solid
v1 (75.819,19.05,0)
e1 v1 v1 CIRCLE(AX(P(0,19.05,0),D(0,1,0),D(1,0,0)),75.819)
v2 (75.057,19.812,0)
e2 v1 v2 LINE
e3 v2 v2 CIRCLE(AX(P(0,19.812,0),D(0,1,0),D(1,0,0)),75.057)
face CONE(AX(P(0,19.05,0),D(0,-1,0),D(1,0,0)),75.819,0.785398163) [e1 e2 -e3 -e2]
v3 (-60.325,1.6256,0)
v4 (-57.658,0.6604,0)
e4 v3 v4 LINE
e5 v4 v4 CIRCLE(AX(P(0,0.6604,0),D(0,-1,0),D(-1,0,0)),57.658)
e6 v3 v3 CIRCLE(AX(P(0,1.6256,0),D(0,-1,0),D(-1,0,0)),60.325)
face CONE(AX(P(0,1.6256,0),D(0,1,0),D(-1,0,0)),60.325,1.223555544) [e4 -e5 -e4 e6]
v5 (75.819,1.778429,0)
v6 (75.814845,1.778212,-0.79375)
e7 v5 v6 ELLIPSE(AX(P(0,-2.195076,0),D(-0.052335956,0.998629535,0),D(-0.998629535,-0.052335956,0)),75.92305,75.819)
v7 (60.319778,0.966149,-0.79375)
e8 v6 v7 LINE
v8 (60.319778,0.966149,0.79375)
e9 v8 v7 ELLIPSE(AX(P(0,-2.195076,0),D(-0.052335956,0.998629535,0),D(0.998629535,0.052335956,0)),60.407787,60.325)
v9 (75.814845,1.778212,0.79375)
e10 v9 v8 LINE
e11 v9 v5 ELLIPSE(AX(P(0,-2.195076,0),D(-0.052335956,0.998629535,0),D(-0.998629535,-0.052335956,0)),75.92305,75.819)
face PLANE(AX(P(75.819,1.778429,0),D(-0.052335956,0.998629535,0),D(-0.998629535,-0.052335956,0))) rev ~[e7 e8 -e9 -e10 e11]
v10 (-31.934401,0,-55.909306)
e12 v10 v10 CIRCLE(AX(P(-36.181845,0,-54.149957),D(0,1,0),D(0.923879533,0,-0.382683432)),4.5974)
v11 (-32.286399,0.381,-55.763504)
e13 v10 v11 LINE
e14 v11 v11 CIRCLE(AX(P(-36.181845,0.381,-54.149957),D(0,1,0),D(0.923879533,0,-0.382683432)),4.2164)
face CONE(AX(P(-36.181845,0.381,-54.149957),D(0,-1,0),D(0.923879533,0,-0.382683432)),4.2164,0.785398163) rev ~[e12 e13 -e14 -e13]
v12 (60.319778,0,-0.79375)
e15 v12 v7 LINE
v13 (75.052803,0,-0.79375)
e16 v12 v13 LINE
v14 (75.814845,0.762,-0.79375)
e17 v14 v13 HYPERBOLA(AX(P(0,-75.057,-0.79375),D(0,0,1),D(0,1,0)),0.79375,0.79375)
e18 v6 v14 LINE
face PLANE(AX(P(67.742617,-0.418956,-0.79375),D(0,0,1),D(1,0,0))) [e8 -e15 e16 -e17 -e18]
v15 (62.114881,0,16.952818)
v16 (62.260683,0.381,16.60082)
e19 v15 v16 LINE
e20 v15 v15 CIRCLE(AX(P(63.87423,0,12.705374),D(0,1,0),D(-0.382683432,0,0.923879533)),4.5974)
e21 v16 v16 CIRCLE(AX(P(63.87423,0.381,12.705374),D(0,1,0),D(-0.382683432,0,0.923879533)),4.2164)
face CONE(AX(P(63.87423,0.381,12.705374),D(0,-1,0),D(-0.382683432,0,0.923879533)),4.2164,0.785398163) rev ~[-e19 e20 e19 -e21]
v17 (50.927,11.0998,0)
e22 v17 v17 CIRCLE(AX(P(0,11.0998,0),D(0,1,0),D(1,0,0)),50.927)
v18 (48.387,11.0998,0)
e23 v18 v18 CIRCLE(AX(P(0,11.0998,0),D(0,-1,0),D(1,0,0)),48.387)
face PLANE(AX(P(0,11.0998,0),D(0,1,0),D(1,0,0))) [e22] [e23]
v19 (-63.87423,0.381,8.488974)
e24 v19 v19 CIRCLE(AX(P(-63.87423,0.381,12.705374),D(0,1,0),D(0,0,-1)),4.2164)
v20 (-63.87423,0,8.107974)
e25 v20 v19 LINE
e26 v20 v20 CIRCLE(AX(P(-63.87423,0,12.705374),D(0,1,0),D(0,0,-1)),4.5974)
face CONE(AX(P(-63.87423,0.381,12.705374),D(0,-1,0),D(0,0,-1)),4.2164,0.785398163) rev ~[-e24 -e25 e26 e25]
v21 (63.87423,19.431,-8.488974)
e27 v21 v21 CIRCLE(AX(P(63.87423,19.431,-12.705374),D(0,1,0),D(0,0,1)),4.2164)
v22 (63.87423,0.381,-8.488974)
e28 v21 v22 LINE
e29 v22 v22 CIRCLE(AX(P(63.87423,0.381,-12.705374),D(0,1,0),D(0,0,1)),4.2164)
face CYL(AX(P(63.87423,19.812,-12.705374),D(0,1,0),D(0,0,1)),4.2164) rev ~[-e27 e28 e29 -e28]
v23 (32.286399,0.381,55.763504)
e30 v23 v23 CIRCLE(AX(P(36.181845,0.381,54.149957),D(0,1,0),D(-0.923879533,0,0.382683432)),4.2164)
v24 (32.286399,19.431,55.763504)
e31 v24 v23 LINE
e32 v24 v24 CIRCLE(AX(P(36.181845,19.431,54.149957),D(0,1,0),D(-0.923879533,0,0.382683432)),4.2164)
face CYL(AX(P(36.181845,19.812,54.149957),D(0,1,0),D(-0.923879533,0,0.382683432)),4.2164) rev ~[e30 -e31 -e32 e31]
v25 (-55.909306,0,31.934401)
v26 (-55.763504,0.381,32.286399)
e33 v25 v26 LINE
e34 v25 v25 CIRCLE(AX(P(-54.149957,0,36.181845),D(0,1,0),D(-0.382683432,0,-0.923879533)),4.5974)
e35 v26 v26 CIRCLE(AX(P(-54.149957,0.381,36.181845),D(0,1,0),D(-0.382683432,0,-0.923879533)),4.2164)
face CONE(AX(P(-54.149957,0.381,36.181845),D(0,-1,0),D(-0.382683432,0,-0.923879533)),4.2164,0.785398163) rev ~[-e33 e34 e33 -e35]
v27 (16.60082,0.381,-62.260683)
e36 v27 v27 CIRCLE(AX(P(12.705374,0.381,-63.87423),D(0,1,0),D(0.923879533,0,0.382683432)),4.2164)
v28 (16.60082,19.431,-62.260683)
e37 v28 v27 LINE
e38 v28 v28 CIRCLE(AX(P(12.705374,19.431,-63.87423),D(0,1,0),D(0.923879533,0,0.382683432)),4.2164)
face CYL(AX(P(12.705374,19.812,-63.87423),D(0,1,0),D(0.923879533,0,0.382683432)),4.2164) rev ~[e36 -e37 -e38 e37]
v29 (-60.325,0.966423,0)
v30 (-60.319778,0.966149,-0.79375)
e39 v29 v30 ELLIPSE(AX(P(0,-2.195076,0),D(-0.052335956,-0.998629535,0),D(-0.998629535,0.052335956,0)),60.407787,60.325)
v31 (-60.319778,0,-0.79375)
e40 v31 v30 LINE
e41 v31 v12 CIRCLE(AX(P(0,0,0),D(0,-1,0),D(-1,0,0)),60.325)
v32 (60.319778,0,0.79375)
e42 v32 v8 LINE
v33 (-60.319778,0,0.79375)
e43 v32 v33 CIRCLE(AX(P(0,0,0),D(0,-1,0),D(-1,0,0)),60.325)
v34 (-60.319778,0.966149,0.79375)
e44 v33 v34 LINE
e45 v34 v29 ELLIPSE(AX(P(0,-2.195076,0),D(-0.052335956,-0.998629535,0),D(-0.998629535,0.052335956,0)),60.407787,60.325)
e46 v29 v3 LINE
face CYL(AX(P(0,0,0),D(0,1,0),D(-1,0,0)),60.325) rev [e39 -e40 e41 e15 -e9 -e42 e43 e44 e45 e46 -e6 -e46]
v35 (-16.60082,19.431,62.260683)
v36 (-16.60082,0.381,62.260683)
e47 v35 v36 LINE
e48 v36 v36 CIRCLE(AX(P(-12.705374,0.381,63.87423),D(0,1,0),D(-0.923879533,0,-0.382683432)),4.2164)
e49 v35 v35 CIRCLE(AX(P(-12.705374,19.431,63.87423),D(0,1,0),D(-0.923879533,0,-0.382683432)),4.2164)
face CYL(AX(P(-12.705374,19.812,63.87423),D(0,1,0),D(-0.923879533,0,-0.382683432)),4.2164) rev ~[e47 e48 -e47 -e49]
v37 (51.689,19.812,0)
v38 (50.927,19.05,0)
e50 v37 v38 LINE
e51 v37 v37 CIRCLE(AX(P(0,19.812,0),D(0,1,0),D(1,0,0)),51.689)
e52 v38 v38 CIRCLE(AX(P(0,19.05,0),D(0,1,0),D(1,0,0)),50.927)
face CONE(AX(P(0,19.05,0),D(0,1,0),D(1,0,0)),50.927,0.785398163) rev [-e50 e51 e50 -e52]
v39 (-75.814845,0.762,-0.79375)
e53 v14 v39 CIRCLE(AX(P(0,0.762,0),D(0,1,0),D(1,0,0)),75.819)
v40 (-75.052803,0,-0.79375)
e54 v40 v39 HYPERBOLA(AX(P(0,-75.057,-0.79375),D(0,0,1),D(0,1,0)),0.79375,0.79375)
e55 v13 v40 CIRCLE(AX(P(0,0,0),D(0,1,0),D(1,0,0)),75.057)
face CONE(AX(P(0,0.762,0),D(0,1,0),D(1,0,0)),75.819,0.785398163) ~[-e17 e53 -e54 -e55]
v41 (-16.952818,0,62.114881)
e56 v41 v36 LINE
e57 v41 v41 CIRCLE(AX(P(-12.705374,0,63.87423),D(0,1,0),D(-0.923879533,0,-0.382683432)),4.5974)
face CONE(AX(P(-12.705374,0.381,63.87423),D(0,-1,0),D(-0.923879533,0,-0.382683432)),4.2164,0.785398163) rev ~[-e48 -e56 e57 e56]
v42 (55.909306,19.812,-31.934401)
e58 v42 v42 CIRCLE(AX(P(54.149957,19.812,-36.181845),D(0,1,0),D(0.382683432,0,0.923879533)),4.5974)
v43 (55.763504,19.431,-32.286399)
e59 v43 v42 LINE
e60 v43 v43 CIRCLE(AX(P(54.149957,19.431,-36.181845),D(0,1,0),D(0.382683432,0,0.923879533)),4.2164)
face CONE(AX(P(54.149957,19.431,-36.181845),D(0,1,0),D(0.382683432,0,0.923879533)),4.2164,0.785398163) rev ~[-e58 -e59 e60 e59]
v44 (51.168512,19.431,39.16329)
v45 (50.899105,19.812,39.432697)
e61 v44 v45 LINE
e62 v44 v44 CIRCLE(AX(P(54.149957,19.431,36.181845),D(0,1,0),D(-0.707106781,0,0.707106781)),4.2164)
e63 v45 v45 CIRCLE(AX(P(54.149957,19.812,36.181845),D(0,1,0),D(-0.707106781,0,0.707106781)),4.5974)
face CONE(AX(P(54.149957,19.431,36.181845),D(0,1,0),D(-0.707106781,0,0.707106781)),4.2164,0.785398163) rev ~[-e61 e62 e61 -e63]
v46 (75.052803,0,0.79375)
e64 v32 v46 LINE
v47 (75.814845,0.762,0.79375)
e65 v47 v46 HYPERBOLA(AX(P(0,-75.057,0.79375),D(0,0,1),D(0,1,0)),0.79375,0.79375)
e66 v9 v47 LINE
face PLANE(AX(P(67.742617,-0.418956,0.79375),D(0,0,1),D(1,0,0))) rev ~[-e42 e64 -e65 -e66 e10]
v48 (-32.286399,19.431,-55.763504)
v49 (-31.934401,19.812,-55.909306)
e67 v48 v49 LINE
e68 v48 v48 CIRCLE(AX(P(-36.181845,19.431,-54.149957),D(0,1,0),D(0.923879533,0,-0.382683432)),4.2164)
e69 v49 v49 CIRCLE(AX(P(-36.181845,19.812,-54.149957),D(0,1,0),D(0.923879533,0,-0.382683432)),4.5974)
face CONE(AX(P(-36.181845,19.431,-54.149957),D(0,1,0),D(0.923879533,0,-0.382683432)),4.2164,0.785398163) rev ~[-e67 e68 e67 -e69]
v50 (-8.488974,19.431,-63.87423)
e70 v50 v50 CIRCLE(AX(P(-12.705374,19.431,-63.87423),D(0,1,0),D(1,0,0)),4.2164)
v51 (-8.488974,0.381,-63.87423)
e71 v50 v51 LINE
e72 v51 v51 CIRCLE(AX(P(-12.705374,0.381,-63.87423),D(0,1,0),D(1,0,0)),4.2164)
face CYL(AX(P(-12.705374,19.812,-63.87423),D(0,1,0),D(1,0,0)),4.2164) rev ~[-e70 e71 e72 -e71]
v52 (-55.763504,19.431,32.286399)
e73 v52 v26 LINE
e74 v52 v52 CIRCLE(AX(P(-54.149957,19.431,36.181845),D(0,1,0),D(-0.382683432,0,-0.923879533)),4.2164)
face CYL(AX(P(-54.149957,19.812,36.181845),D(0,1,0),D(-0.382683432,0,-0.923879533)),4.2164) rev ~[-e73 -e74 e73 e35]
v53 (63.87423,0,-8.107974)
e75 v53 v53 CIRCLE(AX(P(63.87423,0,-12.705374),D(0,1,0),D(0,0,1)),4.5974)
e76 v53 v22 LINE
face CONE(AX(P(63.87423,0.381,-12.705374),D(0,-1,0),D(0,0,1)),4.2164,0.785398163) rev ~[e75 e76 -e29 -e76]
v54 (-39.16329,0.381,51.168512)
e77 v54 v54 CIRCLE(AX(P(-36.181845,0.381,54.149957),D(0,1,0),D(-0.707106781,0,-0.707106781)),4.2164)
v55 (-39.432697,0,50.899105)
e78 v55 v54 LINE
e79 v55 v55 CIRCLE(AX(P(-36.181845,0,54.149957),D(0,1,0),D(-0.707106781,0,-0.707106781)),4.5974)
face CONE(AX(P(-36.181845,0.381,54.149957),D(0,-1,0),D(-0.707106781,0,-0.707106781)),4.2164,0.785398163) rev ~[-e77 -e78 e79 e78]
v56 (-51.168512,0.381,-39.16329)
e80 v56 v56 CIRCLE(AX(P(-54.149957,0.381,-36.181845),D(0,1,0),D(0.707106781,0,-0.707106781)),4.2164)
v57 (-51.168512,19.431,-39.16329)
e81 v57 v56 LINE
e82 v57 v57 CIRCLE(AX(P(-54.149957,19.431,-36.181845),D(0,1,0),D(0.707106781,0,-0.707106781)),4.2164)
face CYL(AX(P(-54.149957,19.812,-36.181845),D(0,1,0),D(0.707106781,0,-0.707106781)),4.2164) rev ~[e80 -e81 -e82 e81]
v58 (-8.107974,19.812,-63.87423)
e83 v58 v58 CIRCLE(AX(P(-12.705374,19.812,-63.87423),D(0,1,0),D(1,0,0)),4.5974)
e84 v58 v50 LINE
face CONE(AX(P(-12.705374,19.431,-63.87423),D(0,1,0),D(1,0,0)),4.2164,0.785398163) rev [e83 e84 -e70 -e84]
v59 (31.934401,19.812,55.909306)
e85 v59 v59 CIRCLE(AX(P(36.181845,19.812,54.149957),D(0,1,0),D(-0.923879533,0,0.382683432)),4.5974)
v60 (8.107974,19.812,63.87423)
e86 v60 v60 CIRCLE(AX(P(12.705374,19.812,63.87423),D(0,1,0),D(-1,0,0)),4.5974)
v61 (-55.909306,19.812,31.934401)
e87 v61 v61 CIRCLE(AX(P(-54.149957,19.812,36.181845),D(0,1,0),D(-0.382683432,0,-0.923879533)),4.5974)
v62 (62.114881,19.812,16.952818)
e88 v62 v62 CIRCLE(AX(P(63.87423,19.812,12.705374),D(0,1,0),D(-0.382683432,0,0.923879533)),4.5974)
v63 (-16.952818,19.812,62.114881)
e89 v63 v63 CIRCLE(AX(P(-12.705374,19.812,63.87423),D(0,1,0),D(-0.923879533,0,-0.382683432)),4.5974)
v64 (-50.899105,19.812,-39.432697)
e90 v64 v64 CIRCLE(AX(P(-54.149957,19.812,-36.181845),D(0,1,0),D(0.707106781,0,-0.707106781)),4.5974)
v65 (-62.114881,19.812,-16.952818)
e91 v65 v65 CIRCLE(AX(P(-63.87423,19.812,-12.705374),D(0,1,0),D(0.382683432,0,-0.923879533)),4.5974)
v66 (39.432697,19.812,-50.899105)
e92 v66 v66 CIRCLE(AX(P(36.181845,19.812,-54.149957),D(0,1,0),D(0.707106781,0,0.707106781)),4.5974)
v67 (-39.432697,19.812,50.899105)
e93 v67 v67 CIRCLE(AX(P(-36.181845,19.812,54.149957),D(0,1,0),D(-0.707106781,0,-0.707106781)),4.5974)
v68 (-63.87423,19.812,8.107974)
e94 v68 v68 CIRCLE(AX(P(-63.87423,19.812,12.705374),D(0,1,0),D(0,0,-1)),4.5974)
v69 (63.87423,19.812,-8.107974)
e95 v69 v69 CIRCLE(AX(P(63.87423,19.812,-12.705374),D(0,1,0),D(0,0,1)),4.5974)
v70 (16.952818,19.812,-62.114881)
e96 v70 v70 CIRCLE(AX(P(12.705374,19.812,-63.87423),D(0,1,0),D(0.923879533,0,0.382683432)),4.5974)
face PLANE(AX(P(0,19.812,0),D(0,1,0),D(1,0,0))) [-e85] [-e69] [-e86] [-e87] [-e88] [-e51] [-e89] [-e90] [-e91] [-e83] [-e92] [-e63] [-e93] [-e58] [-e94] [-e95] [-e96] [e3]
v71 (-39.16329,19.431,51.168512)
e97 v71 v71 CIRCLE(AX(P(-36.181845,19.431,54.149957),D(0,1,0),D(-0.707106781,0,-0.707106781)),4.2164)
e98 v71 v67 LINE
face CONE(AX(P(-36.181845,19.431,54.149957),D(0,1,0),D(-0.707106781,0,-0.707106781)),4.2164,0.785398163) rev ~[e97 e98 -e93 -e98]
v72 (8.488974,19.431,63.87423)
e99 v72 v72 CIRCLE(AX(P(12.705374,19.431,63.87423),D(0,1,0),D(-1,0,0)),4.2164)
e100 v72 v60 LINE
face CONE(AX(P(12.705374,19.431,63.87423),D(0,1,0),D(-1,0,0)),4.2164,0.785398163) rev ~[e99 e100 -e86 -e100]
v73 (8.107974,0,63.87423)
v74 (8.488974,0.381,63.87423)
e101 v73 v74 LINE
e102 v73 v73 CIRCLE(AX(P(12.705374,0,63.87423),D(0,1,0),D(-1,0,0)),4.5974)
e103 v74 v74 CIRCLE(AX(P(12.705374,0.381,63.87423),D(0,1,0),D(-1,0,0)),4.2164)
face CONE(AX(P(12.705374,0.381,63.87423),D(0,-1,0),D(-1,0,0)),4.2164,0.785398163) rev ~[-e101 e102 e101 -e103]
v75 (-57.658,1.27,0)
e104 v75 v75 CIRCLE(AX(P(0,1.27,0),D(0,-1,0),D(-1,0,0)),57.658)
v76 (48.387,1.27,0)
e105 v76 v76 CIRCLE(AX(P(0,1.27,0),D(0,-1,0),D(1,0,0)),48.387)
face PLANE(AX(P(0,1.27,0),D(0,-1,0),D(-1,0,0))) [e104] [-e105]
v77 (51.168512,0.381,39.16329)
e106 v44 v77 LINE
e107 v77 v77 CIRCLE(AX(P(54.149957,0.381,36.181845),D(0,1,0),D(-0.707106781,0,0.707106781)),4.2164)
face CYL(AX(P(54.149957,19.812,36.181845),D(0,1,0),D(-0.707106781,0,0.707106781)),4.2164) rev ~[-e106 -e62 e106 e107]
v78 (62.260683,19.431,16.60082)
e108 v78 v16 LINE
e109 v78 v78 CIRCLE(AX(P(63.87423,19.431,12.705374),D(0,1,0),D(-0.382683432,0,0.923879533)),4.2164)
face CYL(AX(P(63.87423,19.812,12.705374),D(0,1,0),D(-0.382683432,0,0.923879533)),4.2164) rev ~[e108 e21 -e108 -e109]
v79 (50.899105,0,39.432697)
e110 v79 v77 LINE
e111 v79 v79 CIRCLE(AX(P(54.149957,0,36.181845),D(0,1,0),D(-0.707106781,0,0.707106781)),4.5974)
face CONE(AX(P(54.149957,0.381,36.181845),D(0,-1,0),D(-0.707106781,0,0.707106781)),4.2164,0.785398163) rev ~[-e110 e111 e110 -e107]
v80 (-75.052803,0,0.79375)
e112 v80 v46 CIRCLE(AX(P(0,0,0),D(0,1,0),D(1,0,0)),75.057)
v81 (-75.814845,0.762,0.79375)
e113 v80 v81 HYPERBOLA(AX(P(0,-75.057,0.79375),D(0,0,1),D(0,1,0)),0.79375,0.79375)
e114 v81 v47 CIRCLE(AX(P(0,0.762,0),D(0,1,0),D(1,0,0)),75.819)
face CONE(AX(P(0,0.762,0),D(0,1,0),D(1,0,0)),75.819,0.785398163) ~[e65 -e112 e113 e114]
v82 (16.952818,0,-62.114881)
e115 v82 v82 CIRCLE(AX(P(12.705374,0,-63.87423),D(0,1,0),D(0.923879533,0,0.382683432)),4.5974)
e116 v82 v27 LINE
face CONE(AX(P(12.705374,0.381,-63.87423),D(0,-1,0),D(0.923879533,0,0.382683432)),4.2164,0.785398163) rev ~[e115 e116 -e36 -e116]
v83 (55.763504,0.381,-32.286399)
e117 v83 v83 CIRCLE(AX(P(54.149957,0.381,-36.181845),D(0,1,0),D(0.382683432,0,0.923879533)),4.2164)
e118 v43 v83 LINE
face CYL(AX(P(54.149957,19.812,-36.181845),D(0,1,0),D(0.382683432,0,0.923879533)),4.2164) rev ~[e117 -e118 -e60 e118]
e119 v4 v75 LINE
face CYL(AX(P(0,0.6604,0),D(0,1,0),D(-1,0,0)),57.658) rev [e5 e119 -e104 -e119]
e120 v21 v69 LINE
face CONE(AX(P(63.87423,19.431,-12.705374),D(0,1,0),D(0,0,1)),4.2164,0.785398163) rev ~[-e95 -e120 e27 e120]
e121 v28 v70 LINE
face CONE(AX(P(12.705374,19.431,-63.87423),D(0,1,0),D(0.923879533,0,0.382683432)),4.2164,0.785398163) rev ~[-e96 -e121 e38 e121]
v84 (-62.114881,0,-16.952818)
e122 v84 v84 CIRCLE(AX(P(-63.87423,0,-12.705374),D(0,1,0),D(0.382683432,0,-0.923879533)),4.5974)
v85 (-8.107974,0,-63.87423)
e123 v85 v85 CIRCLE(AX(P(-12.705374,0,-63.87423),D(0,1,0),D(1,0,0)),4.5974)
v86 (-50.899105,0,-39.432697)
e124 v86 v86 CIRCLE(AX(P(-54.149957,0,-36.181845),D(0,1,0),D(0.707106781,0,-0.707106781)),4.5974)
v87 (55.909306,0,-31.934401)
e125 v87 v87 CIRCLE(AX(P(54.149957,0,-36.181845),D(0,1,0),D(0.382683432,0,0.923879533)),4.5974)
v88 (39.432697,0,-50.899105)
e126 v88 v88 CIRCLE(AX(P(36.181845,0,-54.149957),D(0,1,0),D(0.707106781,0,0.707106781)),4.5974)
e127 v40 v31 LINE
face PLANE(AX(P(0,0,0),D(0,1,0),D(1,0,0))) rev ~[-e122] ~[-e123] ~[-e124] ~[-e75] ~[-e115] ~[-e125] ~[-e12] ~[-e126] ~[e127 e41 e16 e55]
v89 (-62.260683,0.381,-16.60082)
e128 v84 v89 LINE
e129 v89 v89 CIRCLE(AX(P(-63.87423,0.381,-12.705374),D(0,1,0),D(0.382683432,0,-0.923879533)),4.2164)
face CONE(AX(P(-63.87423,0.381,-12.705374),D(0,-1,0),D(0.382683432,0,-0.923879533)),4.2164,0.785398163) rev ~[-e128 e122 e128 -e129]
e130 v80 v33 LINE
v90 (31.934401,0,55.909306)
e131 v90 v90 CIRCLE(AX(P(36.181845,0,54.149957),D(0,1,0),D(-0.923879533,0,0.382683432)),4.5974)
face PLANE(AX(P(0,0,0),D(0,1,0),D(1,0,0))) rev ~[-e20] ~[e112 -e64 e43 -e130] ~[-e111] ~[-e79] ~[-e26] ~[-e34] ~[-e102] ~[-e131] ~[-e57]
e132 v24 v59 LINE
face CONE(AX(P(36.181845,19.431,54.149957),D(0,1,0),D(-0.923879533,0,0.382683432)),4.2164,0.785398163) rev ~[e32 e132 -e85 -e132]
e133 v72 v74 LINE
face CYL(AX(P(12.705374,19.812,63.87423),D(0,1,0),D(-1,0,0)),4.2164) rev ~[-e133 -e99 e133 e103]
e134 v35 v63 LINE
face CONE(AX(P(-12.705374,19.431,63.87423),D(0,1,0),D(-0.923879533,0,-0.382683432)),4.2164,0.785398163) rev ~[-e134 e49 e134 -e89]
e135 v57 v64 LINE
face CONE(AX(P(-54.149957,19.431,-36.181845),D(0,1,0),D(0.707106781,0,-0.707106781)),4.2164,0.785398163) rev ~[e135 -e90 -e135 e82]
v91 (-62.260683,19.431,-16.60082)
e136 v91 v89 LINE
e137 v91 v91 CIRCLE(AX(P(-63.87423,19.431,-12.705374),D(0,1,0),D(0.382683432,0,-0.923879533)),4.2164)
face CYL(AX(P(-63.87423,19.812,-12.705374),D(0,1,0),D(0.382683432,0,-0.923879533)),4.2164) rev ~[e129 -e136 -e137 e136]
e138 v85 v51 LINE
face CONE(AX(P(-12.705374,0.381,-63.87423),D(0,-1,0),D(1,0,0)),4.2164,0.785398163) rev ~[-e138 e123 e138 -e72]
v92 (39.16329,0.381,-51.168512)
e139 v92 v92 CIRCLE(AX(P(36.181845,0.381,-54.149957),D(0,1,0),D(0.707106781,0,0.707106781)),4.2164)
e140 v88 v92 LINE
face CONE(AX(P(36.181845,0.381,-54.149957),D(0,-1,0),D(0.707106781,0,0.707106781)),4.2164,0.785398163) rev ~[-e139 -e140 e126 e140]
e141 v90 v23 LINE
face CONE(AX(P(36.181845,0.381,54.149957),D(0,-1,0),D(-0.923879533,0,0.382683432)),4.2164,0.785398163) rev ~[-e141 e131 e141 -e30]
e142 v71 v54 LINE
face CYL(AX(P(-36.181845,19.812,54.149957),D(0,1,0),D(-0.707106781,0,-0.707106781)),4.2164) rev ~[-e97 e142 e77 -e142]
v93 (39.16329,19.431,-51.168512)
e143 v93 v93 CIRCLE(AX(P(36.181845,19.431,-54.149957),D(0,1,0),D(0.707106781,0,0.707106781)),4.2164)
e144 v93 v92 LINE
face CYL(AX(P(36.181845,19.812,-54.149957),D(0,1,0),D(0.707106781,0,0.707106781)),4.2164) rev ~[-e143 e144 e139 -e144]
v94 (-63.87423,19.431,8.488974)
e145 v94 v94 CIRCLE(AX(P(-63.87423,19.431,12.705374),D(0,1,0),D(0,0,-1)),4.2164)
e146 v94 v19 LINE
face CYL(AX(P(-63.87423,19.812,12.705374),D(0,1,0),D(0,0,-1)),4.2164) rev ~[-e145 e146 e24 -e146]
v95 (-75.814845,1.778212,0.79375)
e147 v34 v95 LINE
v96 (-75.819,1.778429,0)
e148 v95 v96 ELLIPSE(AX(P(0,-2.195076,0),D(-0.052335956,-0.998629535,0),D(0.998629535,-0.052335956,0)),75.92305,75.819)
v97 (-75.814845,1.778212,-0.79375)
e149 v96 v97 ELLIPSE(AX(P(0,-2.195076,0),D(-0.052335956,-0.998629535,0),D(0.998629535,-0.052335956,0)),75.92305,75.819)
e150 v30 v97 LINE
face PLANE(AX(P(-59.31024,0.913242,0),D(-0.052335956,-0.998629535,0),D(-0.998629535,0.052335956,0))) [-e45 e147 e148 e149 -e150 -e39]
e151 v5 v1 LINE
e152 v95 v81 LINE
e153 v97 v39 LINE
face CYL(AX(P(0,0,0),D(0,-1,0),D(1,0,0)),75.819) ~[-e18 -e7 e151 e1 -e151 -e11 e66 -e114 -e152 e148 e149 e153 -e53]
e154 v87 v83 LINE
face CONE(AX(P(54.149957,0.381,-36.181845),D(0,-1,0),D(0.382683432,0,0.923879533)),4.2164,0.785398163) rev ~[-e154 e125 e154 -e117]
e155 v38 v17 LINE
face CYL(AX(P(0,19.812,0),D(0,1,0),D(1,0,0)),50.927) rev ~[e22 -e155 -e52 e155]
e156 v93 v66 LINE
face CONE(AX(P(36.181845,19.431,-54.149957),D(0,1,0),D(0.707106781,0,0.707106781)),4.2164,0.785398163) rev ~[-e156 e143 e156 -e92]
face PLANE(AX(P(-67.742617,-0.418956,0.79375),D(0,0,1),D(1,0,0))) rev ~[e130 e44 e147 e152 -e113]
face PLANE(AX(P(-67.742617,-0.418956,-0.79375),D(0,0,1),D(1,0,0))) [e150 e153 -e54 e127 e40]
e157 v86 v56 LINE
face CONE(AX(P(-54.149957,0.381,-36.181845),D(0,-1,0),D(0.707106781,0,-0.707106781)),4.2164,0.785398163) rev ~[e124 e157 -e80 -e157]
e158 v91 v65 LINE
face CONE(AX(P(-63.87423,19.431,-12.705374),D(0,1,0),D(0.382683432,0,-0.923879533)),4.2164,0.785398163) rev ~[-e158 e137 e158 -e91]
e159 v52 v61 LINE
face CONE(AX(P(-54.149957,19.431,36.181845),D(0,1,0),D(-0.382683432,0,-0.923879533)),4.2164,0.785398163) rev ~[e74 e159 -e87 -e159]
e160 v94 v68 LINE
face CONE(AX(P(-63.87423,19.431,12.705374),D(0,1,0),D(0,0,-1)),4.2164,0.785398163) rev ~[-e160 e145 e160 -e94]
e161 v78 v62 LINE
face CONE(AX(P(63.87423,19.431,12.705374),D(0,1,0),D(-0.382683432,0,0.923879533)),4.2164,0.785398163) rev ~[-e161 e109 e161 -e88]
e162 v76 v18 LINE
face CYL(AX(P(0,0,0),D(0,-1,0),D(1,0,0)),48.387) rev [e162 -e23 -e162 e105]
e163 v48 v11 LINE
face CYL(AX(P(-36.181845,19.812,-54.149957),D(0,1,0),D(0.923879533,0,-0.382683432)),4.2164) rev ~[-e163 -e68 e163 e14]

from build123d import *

# Parameters (mm, degrees)
SKETCH1_R                    = 75.819
SKETCH1_R_2                  = 48.387
BOSS_EXTRUDE1_DEPTH          = 19.812
SKETCH2_R                    = 50.927
CUT_EXTRUDE1_DEPTH           = 8.7122
CHAMFER1_SIZE                = 0.762
SKETCH4_R                    = 4.2164
CUT_EXTRUDE2_DEPTH           = 20.812
CHAMFER2_SIZE                = 0.381
CIRPATTERN1_COUNT            = 16
CHAMFER2_OF_CIRPATTERN1_SIZE = 0.381
CUT_EXTRUDE3_DEPTH           = 0.79375


with BuildPart() as part:
    # Sketch1 → Boss-Extrude1 (new body)
    with BuildSketch(Plane(origin=(0, 0, 0), x_dir=(1, 0, 0), z_dir=(0, 1, 0))):
        Circle(SKETCH1_R)
        Circle(SKETCH1_R_2, mode=Mode.SUBTRACT)
    extrude(amount=BOSS_EXTRUDE1_DEPTH)

    # Sketch2 → Cut-Extrude1 (cut)
    with BuildSketch(Plane(origin=(0, 19.812, 0), x_dir=(1, 0, 0), z_dir=(0, 1, 0))):
        Circle(SKETCH2_R)
    extrude(amount=-CUT_EXTRUDE1_DEPTH, mode=Mode.SUBTRACT)

    # Chamfer1
    chamfer1_edges = [part.edges().sort_by_distance(p)[0] for p in [
        (-50.927, 19.812, 0),
        (-75.819, 0, 0),
        (-75.819, 19.812, 0),
    ]]
    chamfer(chamfer1_edges, length=CHAMFER1_SIZE)

    # Sketch3 → Cut-Revolve1 (revolve, cut)
    with BuildSketch(Plane.XY):
        Polygon((-60.325, 0), (-60.325, 1.6256), (-57.658, 0.6604), (-57.658, 1.27), (0, 1.27), (0, 0), align=None)
    revolve(axis=Axis((0, 19.812, 0), (0, -1, 0)), mode=Mode.SUBTRACT)

    # Sketch4 → Cut-Extrude2 (cut, through all)
    with BuildSketch(Plane(origin=(0, 19.812, 0), x_dir=(1, 0, 0), z_dir=(0, 1, 0))):
        with Locations((-12.705374275, 63.874229857)):
            Circle(SKETCH4_R)
    cut_extrude2 = extrude(amount=-CUT_EXTRUDE2_DEPTH, mode=Mode.SUBTRACT)

    # Chamfer2
    chamfer2_edges = [part.edges().sort_by_distance(p)[0] for p in [
        (-16.921774275, 0, -63.874229857),
        (-16.921774275, 19.812, -63.874229857),
    ]]
    chamfer(chamfer2_edges, length=CHAMFER2_SIZE)

    # CirPattern1: Cut-Extrude2 ×16 about axis
    cirpattern1_axis = Axis((0, 0, 0), (0, 1, 0))
    for i in range(1, CIRPATTERN1_COUNT):
        add(cut_extrude2.rotate(cirpattern1_axis, i * 360 / CIRPATTERN1_COUNT), mode=Mode.SUBTRACT)

    # Chamfer2 of CirPattern1
    chamfer2_of_cirpattern1_edges = [part.edges().sort_by_distance(p)[0] for p in [
        (-40.077290428, 0, -52.536410959),
        (-40.077290428, 19.812, -52.536410959),
        (-57.131402415, 0, -33.200399735),
        (-57.131402415, 19.812, -33.200399735),
        (-65.487776282, 0, -8.809928615),
        (-65.487776282, 19.812, -8.809928615),
        (-63.874229857, 0, 16.921774275),
        (-63.874229857, 19.812, 16.921774275),
        (-52.536410959, 0, 40.077290428),
        (-52.536410959, 19.812, 40.077290428),
        (-33.200399735, 0, 57.131402415),
        (-33.200399735, 19.812, 57.131402415),
        (-8.809928615, 0, 65.487776282),
        (-8.809928615, 19.812, 65.487776282),
        (16.921774275, 0, 63.874229857),
        (16.921774275, 19.812, 63.874229857),
        (40.077290428, 0, 52.536410959),
        (40.077290428, 19.812, 52.536410959),
        (57.131402415, 0, 33.200399735),
        (57.131402415, 19.812, 33.200399735),
        (65.487776282, 0, 8.809928615),
        (65.487776282, 19.812, 8.809928615),
        (63.874229857, 0, -16.921774275),
        (63.874229857, 19.812, -16.921774275),
        (52.536410959, 0, -40.077290428),
        (52.536410959, 19.812, -40.077290428),
        (33.200399735, 0, -57.131402415),
        (33.200399735, 19.812, -57.131402415),
        (8.809928615, 0, -65.487776282),
        (8.809928615, 19.812, -65.487776282),
    ]]
    chamfer(chamfer2_of_cirpattern1_edges, length=CHAMFER2_OF_CIRPATTERN1_SIZE)

    # Sketch5 → Cut-Extrude3 (cut, symmetric)
    with BuildSketch(Plane.XY):
        Polygon((-59.310240326, 0.913241856), (-75.819, 1.778429289), (-75.819, -2.195076128), (-59.310240326, -2.195076128), align=None)
        Polygon((59.310240326, 0.913241856), (59.310240326, -2.195076128), (75.819, -2.195076128), (75.819, 1.778429289), align=None)
    extrude(amount=CUT_EXTRUDE3_DEPTH, both=True, mode=Mode.SUBTRACT)


solid = part.part
